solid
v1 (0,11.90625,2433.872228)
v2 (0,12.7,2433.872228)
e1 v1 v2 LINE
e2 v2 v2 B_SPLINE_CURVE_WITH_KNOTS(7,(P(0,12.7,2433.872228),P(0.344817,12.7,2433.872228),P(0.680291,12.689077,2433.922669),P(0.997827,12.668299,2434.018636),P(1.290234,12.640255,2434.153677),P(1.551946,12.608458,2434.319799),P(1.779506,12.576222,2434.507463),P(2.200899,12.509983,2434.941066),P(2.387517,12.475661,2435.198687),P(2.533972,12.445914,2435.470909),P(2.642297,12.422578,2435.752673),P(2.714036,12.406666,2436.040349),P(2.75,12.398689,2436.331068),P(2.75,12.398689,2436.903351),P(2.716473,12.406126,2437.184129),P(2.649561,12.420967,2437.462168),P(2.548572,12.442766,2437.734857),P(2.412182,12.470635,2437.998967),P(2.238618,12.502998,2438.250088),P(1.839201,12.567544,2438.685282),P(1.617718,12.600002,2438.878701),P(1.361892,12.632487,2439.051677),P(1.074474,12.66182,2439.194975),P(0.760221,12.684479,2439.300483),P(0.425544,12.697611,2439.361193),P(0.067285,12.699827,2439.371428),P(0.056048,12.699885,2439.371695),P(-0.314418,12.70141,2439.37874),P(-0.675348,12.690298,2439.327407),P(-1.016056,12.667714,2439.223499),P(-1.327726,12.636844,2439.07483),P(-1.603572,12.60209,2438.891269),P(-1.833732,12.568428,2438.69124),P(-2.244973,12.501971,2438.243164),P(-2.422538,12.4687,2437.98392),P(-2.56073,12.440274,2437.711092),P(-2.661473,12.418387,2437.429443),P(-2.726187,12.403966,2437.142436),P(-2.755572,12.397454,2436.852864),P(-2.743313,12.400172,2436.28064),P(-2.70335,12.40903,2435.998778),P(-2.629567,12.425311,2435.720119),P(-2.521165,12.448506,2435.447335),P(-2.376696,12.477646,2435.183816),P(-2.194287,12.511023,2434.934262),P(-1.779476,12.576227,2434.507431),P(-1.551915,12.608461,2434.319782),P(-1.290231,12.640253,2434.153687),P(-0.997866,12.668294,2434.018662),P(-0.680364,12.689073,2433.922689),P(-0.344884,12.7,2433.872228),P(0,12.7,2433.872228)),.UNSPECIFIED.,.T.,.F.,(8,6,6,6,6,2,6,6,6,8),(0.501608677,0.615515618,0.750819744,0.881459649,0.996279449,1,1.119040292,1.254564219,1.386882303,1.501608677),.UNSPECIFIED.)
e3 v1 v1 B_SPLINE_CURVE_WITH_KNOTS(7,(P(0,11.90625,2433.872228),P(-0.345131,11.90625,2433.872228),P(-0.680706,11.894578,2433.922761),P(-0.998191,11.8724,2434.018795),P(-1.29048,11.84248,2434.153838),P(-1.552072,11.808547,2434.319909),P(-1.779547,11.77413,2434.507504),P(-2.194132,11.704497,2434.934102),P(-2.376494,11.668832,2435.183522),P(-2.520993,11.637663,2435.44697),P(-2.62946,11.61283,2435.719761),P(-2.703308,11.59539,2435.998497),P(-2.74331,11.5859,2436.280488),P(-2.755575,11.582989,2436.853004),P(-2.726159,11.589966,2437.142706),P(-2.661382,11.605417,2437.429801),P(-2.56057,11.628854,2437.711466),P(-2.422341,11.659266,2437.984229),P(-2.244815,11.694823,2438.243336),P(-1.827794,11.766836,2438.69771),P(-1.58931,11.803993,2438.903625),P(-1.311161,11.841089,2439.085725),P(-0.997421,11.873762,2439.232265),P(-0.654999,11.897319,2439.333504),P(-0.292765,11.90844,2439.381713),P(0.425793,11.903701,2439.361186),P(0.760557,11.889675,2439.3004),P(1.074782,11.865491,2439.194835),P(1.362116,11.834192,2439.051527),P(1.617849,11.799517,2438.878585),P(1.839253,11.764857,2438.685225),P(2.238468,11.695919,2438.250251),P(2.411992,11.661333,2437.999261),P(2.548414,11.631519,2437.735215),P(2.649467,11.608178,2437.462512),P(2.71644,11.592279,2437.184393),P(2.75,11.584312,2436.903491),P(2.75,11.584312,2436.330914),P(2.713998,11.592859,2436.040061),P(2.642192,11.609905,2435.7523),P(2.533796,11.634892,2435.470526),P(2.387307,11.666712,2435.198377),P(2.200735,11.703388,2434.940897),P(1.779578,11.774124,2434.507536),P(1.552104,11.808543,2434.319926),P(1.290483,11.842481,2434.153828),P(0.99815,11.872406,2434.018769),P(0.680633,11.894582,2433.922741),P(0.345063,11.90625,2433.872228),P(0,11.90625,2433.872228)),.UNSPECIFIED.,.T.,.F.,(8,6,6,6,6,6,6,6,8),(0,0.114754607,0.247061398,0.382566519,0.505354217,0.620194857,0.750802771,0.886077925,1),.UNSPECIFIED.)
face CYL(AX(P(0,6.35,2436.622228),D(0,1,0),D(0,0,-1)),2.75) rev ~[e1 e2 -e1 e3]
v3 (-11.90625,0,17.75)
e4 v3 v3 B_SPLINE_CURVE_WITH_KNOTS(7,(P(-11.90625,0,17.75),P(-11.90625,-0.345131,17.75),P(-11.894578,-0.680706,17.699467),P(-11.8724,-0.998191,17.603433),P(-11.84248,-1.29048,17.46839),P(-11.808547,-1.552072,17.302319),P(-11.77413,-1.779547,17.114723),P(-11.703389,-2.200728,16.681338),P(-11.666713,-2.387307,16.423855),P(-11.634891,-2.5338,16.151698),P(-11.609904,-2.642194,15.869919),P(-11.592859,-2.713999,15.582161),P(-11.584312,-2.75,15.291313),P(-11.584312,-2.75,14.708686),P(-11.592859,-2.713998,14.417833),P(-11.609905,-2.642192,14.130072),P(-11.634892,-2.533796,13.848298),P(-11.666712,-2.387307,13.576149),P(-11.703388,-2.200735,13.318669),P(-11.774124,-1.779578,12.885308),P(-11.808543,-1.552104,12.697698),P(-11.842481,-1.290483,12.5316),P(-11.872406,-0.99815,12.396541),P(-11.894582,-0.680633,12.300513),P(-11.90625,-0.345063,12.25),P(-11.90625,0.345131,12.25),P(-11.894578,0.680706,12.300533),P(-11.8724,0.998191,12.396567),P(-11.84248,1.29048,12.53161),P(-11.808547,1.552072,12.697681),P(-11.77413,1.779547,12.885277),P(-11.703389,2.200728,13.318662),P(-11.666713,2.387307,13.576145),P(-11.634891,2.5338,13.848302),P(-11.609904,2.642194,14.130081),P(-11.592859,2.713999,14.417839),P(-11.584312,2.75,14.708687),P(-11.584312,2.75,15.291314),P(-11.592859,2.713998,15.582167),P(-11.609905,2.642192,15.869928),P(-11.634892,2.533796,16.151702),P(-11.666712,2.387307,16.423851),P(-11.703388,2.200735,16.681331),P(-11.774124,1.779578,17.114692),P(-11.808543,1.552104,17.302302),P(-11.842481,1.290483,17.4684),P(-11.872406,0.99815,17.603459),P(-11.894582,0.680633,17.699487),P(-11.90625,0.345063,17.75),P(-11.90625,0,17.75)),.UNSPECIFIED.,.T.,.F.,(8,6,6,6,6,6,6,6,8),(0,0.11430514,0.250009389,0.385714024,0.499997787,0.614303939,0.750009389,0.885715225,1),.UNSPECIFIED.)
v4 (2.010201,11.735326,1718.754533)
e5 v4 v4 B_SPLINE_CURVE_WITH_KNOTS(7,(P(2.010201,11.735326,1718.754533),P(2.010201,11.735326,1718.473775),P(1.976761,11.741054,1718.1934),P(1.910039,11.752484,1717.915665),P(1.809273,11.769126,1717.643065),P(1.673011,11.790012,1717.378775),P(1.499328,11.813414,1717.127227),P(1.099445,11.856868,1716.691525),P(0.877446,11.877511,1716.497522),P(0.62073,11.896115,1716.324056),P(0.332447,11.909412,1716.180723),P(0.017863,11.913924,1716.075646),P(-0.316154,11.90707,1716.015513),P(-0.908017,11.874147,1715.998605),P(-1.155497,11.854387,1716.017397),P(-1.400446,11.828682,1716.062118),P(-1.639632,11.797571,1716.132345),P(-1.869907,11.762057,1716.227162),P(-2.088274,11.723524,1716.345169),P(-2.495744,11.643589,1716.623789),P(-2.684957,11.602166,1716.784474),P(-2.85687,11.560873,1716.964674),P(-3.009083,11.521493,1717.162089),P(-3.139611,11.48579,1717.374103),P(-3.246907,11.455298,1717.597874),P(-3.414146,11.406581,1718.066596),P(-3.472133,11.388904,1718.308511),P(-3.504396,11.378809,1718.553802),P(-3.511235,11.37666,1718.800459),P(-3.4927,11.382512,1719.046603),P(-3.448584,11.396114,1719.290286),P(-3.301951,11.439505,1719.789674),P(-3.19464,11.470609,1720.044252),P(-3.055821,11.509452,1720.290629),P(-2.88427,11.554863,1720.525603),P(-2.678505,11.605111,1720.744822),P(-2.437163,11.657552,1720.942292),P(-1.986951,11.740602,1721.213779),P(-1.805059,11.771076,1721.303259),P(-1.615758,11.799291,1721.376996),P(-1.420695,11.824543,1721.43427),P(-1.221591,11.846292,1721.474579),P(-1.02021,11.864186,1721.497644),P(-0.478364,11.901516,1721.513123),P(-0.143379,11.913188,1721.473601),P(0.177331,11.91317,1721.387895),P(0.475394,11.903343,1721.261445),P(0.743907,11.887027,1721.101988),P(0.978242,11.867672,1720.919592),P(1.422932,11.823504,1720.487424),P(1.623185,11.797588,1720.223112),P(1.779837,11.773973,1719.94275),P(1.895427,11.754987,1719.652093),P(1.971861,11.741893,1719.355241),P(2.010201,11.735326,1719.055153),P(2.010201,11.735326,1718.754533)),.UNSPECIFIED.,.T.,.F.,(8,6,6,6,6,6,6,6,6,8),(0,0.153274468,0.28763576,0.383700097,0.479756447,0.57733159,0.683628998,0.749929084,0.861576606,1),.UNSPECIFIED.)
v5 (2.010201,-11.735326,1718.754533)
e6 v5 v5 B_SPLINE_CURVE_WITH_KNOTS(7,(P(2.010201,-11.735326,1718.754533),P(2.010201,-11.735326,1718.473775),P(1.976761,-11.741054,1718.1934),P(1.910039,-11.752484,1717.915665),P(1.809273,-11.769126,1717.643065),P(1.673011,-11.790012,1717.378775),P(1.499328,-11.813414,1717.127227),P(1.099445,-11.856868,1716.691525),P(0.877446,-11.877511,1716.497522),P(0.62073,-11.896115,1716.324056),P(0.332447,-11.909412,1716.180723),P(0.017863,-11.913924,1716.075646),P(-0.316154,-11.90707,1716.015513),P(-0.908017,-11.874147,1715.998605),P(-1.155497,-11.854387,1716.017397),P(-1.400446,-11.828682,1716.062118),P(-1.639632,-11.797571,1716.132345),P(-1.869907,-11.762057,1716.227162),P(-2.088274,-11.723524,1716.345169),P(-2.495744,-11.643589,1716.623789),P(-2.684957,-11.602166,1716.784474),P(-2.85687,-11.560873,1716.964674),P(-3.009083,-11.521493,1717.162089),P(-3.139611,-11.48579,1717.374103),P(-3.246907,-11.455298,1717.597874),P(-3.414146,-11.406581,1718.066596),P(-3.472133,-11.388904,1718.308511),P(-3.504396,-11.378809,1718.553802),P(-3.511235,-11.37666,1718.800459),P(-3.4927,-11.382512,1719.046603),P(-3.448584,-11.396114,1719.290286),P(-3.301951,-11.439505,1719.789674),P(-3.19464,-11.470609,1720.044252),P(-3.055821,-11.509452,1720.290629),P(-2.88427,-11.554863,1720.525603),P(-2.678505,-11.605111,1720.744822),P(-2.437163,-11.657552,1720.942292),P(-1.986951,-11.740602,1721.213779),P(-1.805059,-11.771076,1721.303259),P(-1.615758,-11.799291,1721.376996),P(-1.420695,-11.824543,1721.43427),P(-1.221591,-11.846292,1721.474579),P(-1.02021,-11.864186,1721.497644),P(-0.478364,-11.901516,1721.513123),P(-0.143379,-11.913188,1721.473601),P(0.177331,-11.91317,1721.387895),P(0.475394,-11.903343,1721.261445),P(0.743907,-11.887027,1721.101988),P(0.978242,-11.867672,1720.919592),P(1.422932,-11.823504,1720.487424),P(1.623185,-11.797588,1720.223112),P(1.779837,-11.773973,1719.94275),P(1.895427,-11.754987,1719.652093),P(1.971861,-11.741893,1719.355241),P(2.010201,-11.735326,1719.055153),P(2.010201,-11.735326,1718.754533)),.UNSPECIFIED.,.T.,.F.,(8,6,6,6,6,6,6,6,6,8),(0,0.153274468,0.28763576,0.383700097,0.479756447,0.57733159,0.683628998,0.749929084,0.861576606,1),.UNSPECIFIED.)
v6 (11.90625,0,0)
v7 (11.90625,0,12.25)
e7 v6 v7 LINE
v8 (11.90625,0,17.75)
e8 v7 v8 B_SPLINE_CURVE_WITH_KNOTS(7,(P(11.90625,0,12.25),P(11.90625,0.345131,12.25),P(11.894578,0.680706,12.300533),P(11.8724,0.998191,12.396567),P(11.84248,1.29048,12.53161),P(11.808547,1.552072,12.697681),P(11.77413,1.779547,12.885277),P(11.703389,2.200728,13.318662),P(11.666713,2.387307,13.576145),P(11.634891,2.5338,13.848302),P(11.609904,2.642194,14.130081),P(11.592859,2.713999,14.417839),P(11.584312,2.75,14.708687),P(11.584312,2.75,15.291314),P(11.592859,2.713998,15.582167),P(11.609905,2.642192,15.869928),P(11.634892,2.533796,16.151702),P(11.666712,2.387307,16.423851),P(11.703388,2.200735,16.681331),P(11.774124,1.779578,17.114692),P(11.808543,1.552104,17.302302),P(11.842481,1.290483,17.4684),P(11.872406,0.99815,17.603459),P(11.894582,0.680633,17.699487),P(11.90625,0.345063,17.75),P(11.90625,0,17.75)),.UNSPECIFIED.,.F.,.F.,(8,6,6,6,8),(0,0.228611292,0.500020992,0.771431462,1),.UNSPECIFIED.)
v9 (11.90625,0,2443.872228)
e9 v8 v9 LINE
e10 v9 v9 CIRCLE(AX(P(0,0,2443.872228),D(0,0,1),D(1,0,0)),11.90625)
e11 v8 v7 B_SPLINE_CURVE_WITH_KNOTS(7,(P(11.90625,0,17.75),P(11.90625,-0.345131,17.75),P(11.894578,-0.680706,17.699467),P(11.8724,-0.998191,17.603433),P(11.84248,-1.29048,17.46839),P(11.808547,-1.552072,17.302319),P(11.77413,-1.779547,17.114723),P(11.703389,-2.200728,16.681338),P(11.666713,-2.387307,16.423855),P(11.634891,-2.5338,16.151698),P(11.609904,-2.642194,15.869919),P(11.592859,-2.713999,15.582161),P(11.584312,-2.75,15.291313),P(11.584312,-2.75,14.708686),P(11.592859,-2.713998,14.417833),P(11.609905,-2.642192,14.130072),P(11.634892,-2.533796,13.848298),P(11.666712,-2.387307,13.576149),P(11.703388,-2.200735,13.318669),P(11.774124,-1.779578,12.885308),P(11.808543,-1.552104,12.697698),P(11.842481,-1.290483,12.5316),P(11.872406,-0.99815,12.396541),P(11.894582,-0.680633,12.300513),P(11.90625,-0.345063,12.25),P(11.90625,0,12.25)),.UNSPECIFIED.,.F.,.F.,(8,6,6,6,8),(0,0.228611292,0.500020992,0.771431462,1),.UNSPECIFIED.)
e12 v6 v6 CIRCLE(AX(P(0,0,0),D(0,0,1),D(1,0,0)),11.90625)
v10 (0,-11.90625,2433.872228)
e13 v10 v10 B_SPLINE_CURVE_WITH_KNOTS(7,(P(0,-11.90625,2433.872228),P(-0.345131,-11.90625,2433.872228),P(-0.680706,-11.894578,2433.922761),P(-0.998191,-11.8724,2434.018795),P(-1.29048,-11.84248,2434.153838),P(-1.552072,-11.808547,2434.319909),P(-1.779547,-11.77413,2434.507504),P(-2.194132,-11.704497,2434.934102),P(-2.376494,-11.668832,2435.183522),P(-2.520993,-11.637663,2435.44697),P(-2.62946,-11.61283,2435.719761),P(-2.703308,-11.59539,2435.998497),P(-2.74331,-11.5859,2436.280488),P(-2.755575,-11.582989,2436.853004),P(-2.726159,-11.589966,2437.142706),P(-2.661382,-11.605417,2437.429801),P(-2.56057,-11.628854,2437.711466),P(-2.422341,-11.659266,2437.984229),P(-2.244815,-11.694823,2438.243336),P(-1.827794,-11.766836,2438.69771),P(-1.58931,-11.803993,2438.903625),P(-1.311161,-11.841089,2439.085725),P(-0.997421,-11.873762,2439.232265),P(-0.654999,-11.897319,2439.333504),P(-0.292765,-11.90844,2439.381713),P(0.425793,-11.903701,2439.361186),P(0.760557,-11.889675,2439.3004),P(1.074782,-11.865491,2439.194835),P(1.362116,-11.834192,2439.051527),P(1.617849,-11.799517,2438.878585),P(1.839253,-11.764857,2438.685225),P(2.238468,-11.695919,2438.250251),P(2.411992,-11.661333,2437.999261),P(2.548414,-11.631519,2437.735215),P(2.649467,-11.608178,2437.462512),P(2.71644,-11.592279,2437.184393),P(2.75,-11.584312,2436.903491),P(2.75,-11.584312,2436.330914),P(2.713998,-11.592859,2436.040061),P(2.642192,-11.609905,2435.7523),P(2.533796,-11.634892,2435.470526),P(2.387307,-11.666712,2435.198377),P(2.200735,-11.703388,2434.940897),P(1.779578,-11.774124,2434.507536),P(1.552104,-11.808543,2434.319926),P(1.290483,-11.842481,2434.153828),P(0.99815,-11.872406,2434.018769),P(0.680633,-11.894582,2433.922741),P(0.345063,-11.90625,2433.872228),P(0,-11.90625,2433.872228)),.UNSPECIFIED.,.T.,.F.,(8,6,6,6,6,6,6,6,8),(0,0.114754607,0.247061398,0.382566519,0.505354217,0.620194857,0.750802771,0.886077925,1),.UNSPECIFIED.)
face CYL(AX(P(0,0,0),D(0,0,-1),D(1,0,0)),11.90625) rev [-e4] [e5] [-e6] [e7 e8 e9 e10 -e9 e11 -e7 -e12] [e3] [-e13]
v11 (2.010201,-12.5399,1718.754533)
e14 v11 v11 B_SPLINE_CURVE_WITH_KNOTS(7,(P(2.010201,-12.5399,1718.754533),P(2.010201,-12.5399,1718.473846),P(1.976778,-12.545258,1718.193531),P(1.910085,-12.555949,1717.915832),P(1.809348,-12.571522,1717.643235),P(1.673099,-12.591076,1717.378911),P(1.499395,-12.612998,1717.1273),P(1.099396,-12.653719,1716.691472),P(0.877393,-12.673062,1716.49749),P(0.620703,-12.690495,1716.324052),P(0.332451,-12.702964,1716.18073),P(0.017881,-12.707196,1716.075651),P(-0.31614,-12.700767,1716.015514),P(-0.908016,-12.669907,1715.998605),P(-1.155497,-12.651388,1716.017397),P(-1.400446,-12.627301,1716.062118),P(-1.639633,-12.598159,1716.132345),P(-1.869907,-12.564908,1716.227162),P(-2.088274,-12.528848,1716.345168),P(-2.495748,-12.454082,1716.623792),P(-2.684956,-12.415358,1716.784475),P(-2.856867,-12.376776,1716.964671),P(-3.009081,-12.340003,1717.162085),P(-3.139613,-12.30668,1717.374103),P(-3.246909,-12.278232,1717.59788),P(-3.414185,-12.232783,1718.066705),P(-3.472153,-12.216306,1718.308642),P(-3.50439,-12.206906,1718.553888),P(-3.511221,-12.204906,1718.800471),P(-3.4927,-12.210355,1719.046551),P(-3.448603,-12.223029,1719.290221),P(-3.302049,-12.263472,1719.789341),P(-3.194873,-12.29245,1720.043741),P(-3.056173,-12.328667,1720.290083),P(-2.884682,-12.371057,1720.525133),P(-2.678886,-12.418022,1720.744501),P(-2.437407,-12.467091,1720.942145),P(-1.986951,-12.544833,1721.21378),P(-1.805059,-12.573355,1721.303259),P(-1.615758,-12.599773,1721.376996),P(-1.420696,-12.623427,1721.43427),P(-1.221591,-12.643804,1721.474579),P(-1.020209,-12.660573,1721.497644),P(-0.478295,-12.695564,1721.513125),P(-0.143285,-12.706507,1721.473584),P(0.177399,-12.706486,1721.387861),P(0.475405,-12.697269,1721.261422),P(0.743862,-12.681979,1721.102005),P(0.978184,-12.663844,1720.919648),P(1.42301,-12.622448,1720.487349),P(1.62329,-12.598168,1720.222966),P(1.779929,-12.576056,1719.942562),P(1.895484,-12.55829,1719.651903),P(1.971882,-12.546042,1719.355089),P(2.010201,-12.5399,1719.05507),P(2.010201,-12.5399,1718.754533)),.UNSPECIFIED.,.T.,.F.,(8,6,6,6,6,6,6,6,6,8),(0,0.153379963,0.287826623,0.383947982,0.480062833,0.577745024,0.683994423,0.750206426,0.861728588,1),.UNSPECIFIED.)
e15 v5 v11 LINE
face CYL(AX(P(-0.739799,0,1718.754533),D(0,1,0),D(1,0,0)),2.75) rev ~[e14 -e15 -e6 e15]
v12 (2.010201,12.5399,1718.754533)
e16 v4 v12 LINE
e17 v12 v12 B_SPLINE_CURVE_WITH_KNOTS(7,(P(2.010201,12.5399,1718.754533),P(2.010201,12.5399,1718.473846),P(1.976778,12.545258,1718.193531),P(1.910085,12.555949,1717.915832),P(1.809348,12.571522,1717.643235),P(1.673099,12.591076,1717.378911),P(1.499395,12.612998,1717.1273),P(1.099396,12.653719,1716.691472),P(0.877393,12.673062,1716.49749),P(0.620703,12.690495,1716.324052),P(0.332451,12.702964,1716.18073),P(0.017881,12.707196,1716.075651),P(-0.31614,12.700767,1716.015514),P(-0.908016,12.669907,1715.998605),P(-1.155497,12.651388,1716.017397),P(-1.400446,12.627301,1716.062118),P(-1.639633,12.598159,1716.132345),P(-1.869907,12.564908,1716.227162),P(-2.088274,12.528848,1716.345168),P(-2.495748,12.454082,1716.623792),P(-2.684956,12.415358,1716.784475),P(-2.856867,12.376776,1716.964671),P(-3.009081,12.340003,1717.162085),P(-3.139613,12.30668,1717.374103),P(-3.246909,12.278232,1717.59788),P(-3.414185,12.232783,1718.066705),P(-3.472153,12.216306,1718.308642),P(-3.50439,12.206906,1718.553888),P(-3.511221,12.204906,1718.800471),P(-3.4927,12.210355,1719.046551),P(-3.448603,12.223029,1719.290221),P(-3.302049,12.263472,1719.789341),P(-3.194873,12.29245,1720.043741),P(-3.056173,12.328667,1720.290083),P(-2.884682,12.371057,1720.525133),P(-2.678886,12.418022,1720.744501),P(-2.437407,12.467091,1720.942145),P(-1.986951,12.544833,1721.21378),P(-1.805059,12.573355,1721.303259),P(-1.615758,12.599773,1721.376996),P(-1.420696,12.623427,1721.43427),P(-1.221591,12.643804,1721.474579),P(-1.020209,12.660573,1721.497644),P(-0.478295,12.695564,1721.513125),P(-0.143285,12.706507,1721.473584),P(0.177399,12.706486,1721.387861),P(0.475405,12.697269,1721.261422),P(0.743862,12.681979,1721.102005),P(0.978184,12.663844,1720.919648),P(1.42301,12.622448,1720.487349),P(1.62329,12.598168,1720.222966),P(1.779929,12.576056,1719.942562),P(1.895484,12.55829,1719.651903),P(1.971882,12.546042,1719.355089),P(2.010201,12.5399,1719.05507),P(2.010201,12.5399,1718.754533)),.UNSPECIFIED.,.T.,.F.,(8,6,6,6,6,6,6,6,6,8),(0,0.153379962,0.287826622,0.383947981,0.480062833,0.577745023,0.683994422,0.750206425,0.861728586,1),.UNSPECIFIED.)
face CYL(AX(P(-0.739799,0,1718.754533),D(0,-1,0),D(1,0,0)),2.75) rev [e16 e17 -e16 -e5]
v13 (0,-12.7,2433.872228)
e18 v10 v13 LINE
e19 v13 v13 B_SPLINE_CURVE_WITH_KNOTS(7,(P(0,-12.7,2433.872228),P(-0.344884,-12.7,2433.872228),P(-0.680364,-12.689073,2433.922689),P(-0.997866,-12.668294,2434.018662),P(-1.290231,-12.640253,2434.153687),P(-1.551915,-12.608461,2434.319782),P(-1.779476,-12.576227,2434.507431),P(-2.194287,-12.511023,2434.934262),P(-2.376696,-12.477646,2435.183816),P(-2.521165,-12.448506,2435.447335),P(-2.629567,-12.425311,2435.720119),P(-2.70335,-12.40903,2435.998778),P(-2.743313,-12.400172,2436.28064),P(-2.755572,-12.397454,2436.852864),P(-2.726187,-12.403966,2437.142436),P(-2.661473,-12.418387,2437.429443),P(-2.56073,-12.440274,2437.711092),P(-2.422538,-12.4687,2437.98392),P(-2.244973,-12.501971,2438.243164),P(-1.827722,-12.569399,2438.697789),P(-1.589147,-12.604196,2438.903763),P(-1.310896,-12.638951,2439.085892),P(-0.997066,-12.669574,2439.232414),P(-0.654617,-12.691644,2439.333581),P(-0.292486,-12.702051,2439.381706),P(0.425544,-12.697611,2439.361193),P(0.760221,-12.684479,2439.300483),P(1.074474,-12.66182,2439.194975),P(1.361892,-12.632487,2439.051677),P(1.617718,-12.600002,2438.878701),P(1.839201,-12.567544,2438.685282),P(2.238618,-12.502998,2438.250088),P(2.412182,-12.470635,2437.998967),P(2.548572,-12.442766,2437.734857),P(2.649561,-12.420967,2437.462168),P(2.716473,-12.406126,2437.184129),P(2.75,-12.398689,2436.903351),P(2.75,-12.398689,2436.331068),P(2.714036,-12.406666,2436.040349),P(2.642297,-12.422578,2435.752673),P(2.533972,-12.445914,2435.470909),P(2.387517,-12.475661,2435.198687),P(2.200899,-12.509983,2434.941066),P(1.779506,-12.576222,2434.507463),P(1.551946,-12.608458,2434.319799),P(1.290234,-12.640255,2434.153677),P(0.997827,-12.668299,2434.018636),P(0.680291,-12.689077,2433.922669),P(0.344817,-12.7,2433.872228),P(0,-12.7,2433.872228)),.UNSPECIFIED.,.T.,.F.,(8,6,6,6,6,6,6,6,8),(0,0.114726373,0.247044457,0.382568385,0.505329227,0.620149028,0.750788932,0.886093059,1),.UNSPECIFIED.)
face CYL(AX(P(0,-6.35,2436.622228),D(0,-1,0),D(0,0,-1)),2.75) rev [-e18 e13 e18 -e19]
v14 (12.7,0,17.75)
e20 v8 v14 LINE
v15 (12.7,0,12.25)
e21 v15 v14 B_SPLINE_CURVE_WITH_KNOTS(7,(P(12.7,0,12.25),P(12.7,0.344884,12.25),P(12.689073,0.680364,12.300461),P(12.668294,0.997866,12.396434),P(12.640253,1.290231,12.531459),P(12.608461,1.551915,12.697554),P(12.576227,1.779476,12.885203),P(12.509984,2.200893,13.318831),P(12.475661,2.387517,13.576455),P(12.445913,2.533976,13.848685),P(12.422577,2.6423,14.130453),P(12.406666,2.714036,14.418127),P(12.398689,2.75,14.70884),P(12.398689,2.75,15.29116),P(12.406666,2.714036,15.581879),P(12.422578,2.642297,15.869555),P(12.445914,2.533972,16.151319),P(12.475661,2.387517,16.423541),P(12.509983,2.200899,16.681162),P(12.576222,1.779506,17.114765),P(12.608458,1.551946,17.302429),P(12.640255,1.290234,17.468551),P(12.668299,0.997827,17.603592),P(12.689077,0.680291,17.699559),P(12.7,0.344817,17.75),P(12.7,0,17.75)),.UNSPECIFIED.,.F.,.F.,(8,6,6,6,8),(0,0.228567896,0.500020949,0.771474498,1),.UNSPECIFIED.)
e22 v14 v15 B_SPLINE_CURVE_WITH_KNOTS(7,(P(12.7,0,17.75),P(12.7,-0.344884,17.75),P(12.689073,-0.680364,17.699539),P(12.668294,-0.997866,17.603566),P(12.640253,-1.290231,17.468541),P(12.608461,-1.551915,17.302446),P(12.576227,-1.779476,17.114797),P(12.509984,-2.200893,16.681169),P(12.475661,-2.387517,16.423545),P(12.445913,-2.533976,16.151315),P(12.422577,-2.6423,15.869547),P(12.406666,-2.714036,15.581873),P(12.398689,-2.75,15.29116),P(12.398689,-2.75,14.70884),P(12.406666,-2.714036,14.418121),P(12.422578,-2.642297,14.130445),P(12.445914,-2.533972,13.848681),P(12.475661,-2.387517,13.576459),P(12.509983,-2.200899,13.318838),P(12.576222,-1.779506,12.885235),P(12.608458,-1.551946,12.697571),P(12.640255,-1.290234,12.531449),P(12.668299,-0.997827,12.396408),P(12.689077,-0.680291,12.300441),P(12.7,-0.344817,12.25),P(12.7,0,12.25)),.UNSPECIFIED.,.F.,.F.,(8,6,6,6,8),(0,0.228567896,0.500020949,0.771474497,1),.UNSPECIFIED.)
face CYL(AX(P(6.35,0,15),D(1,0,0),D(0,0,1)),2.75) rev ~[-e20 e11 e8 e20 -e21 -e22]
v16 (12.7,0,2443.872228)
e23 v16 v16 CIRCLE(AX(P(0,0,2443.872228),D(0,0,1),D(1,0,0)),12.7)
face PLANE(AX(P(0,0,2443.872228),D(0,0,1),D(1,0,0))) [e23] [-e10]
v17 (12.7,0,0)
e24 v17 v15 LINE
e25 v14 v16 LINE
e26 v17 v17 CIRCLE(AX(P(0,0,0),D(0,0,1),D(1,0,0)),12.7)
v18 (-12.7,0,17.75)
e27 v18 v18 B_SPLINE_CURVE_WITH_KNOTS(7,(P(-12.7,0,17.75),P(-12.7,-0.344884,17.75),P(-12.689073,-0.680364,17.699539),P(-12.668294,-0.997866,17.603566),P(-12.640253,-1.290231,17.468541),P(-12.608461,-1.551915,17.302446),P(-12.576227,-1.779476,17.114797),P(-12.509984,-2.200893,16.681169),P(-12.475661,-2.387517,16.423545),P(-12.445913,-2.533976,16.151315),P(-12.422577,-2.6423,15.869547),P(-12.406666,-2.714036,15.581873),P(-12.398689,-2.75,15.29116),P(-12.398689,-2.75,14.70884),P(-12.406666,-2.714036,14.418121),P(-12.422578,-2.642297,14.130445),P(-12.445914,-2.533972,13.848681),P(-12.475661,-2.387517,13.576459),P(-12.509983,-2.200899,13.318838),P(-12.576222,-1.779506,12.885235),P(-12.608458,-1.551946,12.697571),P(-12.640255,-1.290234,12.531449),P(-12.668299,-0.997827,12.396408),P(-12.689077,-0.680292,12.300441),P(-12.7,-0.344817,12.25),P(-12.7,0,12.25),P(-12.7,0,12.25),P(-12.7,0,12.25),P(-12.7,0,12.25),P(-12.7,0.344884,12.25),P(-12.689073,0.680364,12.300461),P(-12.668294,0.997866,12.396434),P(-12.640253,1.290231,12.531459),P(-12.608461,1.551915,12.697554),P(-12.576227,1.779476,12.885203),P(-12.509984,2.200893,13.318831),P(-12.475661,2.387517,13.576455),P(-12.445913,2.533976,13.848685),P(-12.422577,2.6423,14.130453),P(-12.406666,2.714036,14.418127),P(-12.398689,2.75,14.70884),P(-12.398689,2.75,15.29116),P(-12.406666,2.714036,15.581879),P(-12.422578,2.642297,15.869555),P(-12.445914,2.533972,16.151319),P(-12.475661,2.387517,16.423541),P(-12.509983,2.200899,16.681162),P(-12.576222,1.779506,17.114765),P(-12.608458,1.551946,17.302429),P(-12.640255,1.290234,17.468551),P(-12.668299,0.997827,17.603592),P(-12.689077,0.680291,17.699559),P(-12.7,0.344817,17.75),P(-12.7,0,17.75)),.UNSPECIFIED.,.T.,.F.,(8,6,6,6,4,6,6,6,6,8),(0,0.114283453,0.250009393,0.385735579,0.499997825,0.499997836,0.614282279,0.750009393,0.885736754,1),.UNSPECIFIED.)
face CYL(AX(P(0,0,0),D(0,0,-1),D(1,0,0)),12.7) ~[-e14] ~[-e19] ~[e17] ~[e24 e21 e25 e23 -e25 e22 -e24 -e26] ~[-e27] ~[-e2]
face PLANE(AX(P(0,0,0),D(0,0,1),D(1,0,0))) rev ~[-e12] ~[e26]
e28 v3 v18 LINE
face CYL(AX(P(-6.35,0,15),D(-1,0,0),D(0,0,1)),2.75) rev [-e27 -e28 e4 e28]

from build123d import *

# Parameters (mm, degrees)
SKETCH1_R               = 12.7
SKETCH1_R_2             = 11.90625
BOSS_EXTRUDE1_DEPTH     = 2443.872227937
SKETCH4_W               = 2.75
SKETCH4_H               = 12.7
SKETCH12_W              = 2.75
SKETCH12_H              = 12.7
SKETCH13_R              = 2.750000003
CUT_EXTRUDE1_DEPTH      = 13.7000001
CUT_EXTRUDE1_DEPTH_BACK = 13.7000001


with BuildPart() as part:
    # Sketch1 → Boss-Extrude1 (new body)
    with BuildSketch(Plane.XY):
        Circle(SKETCH1_R)
        Circle(SKETCH1_R_2, mode=Mode.SUBTRACT)
    extrude(amount=BOSS_EXTRUDE1_DEPTH)

    # Sketch4 → M5 Clearance Hole1 (revolve, cut)
    with BuildSketch(Plane(origin=(0, 0, 2436.622227937), x_dir=(0, 0, -1), z_dir=(1, 0, 0))):
        with Locations((1.375, 6.35)):
            Rectangle(SKETCH4_W, SKETCH4_H)
    m5_clearance_hole1 = revolve(axis=Axis((0, -6.35, 2436.622227937), (0, 1, 0)), mode=Mode.SUBTRACT)

    # Mirror1: M5 Clearance Hole1 across plane
    add(m5_clearance_hole1.mirror(Plane.ZX), mode=Mode.SUBTRACT)

    # Sketch12 → M5 Clearance Hole3 (revolve, cut)
    with BuildSketch(Plane(origin=(0, 0, 15), x_dir=(0, 0, 1), z_dir=(0, 1, 0))):
        with Locations((1.375, 6.35)):
            Rectangle(SKETCH12_W, SKETCH12_H)
    m5_clearance_hole3 = revolve(axis=Axis((-6.35, 0, 15), (1, 0, 0)), mode=Mode.SUBTRACT)

    # Mirror3: M5 Clearance Hole3 across plane
    add(m5_clearance_hole3.mirror(Plane(origin=(0, 0, 0), x_dir=(0, 0, 1), z_dir=(1, 0, 0))), mode=Mode.SUBTRACT)

    # Sketch13 → Cut-Extrude1 (cut, two sides)
    with BuildSketch(Plane(origin=(0, 0, 0), x_dir=(1, 0, 0), z_dir=(0, 1, 0))) as cut_extrude1_sk:
        with Locations((-0.739798723, -1718.754532743)):
            Circle(SKETCH13_R)
    extrude(amount=CUT_EXTRUDE1_DEPTH, mode=Mode.SUBTRACT)
    extrude(cut_extrude1_sk.sketch, amount=-CUT_EXTRUDE1_DEPTH_BACK, mode=Mode.SUBTRACT)


solid = part.part
